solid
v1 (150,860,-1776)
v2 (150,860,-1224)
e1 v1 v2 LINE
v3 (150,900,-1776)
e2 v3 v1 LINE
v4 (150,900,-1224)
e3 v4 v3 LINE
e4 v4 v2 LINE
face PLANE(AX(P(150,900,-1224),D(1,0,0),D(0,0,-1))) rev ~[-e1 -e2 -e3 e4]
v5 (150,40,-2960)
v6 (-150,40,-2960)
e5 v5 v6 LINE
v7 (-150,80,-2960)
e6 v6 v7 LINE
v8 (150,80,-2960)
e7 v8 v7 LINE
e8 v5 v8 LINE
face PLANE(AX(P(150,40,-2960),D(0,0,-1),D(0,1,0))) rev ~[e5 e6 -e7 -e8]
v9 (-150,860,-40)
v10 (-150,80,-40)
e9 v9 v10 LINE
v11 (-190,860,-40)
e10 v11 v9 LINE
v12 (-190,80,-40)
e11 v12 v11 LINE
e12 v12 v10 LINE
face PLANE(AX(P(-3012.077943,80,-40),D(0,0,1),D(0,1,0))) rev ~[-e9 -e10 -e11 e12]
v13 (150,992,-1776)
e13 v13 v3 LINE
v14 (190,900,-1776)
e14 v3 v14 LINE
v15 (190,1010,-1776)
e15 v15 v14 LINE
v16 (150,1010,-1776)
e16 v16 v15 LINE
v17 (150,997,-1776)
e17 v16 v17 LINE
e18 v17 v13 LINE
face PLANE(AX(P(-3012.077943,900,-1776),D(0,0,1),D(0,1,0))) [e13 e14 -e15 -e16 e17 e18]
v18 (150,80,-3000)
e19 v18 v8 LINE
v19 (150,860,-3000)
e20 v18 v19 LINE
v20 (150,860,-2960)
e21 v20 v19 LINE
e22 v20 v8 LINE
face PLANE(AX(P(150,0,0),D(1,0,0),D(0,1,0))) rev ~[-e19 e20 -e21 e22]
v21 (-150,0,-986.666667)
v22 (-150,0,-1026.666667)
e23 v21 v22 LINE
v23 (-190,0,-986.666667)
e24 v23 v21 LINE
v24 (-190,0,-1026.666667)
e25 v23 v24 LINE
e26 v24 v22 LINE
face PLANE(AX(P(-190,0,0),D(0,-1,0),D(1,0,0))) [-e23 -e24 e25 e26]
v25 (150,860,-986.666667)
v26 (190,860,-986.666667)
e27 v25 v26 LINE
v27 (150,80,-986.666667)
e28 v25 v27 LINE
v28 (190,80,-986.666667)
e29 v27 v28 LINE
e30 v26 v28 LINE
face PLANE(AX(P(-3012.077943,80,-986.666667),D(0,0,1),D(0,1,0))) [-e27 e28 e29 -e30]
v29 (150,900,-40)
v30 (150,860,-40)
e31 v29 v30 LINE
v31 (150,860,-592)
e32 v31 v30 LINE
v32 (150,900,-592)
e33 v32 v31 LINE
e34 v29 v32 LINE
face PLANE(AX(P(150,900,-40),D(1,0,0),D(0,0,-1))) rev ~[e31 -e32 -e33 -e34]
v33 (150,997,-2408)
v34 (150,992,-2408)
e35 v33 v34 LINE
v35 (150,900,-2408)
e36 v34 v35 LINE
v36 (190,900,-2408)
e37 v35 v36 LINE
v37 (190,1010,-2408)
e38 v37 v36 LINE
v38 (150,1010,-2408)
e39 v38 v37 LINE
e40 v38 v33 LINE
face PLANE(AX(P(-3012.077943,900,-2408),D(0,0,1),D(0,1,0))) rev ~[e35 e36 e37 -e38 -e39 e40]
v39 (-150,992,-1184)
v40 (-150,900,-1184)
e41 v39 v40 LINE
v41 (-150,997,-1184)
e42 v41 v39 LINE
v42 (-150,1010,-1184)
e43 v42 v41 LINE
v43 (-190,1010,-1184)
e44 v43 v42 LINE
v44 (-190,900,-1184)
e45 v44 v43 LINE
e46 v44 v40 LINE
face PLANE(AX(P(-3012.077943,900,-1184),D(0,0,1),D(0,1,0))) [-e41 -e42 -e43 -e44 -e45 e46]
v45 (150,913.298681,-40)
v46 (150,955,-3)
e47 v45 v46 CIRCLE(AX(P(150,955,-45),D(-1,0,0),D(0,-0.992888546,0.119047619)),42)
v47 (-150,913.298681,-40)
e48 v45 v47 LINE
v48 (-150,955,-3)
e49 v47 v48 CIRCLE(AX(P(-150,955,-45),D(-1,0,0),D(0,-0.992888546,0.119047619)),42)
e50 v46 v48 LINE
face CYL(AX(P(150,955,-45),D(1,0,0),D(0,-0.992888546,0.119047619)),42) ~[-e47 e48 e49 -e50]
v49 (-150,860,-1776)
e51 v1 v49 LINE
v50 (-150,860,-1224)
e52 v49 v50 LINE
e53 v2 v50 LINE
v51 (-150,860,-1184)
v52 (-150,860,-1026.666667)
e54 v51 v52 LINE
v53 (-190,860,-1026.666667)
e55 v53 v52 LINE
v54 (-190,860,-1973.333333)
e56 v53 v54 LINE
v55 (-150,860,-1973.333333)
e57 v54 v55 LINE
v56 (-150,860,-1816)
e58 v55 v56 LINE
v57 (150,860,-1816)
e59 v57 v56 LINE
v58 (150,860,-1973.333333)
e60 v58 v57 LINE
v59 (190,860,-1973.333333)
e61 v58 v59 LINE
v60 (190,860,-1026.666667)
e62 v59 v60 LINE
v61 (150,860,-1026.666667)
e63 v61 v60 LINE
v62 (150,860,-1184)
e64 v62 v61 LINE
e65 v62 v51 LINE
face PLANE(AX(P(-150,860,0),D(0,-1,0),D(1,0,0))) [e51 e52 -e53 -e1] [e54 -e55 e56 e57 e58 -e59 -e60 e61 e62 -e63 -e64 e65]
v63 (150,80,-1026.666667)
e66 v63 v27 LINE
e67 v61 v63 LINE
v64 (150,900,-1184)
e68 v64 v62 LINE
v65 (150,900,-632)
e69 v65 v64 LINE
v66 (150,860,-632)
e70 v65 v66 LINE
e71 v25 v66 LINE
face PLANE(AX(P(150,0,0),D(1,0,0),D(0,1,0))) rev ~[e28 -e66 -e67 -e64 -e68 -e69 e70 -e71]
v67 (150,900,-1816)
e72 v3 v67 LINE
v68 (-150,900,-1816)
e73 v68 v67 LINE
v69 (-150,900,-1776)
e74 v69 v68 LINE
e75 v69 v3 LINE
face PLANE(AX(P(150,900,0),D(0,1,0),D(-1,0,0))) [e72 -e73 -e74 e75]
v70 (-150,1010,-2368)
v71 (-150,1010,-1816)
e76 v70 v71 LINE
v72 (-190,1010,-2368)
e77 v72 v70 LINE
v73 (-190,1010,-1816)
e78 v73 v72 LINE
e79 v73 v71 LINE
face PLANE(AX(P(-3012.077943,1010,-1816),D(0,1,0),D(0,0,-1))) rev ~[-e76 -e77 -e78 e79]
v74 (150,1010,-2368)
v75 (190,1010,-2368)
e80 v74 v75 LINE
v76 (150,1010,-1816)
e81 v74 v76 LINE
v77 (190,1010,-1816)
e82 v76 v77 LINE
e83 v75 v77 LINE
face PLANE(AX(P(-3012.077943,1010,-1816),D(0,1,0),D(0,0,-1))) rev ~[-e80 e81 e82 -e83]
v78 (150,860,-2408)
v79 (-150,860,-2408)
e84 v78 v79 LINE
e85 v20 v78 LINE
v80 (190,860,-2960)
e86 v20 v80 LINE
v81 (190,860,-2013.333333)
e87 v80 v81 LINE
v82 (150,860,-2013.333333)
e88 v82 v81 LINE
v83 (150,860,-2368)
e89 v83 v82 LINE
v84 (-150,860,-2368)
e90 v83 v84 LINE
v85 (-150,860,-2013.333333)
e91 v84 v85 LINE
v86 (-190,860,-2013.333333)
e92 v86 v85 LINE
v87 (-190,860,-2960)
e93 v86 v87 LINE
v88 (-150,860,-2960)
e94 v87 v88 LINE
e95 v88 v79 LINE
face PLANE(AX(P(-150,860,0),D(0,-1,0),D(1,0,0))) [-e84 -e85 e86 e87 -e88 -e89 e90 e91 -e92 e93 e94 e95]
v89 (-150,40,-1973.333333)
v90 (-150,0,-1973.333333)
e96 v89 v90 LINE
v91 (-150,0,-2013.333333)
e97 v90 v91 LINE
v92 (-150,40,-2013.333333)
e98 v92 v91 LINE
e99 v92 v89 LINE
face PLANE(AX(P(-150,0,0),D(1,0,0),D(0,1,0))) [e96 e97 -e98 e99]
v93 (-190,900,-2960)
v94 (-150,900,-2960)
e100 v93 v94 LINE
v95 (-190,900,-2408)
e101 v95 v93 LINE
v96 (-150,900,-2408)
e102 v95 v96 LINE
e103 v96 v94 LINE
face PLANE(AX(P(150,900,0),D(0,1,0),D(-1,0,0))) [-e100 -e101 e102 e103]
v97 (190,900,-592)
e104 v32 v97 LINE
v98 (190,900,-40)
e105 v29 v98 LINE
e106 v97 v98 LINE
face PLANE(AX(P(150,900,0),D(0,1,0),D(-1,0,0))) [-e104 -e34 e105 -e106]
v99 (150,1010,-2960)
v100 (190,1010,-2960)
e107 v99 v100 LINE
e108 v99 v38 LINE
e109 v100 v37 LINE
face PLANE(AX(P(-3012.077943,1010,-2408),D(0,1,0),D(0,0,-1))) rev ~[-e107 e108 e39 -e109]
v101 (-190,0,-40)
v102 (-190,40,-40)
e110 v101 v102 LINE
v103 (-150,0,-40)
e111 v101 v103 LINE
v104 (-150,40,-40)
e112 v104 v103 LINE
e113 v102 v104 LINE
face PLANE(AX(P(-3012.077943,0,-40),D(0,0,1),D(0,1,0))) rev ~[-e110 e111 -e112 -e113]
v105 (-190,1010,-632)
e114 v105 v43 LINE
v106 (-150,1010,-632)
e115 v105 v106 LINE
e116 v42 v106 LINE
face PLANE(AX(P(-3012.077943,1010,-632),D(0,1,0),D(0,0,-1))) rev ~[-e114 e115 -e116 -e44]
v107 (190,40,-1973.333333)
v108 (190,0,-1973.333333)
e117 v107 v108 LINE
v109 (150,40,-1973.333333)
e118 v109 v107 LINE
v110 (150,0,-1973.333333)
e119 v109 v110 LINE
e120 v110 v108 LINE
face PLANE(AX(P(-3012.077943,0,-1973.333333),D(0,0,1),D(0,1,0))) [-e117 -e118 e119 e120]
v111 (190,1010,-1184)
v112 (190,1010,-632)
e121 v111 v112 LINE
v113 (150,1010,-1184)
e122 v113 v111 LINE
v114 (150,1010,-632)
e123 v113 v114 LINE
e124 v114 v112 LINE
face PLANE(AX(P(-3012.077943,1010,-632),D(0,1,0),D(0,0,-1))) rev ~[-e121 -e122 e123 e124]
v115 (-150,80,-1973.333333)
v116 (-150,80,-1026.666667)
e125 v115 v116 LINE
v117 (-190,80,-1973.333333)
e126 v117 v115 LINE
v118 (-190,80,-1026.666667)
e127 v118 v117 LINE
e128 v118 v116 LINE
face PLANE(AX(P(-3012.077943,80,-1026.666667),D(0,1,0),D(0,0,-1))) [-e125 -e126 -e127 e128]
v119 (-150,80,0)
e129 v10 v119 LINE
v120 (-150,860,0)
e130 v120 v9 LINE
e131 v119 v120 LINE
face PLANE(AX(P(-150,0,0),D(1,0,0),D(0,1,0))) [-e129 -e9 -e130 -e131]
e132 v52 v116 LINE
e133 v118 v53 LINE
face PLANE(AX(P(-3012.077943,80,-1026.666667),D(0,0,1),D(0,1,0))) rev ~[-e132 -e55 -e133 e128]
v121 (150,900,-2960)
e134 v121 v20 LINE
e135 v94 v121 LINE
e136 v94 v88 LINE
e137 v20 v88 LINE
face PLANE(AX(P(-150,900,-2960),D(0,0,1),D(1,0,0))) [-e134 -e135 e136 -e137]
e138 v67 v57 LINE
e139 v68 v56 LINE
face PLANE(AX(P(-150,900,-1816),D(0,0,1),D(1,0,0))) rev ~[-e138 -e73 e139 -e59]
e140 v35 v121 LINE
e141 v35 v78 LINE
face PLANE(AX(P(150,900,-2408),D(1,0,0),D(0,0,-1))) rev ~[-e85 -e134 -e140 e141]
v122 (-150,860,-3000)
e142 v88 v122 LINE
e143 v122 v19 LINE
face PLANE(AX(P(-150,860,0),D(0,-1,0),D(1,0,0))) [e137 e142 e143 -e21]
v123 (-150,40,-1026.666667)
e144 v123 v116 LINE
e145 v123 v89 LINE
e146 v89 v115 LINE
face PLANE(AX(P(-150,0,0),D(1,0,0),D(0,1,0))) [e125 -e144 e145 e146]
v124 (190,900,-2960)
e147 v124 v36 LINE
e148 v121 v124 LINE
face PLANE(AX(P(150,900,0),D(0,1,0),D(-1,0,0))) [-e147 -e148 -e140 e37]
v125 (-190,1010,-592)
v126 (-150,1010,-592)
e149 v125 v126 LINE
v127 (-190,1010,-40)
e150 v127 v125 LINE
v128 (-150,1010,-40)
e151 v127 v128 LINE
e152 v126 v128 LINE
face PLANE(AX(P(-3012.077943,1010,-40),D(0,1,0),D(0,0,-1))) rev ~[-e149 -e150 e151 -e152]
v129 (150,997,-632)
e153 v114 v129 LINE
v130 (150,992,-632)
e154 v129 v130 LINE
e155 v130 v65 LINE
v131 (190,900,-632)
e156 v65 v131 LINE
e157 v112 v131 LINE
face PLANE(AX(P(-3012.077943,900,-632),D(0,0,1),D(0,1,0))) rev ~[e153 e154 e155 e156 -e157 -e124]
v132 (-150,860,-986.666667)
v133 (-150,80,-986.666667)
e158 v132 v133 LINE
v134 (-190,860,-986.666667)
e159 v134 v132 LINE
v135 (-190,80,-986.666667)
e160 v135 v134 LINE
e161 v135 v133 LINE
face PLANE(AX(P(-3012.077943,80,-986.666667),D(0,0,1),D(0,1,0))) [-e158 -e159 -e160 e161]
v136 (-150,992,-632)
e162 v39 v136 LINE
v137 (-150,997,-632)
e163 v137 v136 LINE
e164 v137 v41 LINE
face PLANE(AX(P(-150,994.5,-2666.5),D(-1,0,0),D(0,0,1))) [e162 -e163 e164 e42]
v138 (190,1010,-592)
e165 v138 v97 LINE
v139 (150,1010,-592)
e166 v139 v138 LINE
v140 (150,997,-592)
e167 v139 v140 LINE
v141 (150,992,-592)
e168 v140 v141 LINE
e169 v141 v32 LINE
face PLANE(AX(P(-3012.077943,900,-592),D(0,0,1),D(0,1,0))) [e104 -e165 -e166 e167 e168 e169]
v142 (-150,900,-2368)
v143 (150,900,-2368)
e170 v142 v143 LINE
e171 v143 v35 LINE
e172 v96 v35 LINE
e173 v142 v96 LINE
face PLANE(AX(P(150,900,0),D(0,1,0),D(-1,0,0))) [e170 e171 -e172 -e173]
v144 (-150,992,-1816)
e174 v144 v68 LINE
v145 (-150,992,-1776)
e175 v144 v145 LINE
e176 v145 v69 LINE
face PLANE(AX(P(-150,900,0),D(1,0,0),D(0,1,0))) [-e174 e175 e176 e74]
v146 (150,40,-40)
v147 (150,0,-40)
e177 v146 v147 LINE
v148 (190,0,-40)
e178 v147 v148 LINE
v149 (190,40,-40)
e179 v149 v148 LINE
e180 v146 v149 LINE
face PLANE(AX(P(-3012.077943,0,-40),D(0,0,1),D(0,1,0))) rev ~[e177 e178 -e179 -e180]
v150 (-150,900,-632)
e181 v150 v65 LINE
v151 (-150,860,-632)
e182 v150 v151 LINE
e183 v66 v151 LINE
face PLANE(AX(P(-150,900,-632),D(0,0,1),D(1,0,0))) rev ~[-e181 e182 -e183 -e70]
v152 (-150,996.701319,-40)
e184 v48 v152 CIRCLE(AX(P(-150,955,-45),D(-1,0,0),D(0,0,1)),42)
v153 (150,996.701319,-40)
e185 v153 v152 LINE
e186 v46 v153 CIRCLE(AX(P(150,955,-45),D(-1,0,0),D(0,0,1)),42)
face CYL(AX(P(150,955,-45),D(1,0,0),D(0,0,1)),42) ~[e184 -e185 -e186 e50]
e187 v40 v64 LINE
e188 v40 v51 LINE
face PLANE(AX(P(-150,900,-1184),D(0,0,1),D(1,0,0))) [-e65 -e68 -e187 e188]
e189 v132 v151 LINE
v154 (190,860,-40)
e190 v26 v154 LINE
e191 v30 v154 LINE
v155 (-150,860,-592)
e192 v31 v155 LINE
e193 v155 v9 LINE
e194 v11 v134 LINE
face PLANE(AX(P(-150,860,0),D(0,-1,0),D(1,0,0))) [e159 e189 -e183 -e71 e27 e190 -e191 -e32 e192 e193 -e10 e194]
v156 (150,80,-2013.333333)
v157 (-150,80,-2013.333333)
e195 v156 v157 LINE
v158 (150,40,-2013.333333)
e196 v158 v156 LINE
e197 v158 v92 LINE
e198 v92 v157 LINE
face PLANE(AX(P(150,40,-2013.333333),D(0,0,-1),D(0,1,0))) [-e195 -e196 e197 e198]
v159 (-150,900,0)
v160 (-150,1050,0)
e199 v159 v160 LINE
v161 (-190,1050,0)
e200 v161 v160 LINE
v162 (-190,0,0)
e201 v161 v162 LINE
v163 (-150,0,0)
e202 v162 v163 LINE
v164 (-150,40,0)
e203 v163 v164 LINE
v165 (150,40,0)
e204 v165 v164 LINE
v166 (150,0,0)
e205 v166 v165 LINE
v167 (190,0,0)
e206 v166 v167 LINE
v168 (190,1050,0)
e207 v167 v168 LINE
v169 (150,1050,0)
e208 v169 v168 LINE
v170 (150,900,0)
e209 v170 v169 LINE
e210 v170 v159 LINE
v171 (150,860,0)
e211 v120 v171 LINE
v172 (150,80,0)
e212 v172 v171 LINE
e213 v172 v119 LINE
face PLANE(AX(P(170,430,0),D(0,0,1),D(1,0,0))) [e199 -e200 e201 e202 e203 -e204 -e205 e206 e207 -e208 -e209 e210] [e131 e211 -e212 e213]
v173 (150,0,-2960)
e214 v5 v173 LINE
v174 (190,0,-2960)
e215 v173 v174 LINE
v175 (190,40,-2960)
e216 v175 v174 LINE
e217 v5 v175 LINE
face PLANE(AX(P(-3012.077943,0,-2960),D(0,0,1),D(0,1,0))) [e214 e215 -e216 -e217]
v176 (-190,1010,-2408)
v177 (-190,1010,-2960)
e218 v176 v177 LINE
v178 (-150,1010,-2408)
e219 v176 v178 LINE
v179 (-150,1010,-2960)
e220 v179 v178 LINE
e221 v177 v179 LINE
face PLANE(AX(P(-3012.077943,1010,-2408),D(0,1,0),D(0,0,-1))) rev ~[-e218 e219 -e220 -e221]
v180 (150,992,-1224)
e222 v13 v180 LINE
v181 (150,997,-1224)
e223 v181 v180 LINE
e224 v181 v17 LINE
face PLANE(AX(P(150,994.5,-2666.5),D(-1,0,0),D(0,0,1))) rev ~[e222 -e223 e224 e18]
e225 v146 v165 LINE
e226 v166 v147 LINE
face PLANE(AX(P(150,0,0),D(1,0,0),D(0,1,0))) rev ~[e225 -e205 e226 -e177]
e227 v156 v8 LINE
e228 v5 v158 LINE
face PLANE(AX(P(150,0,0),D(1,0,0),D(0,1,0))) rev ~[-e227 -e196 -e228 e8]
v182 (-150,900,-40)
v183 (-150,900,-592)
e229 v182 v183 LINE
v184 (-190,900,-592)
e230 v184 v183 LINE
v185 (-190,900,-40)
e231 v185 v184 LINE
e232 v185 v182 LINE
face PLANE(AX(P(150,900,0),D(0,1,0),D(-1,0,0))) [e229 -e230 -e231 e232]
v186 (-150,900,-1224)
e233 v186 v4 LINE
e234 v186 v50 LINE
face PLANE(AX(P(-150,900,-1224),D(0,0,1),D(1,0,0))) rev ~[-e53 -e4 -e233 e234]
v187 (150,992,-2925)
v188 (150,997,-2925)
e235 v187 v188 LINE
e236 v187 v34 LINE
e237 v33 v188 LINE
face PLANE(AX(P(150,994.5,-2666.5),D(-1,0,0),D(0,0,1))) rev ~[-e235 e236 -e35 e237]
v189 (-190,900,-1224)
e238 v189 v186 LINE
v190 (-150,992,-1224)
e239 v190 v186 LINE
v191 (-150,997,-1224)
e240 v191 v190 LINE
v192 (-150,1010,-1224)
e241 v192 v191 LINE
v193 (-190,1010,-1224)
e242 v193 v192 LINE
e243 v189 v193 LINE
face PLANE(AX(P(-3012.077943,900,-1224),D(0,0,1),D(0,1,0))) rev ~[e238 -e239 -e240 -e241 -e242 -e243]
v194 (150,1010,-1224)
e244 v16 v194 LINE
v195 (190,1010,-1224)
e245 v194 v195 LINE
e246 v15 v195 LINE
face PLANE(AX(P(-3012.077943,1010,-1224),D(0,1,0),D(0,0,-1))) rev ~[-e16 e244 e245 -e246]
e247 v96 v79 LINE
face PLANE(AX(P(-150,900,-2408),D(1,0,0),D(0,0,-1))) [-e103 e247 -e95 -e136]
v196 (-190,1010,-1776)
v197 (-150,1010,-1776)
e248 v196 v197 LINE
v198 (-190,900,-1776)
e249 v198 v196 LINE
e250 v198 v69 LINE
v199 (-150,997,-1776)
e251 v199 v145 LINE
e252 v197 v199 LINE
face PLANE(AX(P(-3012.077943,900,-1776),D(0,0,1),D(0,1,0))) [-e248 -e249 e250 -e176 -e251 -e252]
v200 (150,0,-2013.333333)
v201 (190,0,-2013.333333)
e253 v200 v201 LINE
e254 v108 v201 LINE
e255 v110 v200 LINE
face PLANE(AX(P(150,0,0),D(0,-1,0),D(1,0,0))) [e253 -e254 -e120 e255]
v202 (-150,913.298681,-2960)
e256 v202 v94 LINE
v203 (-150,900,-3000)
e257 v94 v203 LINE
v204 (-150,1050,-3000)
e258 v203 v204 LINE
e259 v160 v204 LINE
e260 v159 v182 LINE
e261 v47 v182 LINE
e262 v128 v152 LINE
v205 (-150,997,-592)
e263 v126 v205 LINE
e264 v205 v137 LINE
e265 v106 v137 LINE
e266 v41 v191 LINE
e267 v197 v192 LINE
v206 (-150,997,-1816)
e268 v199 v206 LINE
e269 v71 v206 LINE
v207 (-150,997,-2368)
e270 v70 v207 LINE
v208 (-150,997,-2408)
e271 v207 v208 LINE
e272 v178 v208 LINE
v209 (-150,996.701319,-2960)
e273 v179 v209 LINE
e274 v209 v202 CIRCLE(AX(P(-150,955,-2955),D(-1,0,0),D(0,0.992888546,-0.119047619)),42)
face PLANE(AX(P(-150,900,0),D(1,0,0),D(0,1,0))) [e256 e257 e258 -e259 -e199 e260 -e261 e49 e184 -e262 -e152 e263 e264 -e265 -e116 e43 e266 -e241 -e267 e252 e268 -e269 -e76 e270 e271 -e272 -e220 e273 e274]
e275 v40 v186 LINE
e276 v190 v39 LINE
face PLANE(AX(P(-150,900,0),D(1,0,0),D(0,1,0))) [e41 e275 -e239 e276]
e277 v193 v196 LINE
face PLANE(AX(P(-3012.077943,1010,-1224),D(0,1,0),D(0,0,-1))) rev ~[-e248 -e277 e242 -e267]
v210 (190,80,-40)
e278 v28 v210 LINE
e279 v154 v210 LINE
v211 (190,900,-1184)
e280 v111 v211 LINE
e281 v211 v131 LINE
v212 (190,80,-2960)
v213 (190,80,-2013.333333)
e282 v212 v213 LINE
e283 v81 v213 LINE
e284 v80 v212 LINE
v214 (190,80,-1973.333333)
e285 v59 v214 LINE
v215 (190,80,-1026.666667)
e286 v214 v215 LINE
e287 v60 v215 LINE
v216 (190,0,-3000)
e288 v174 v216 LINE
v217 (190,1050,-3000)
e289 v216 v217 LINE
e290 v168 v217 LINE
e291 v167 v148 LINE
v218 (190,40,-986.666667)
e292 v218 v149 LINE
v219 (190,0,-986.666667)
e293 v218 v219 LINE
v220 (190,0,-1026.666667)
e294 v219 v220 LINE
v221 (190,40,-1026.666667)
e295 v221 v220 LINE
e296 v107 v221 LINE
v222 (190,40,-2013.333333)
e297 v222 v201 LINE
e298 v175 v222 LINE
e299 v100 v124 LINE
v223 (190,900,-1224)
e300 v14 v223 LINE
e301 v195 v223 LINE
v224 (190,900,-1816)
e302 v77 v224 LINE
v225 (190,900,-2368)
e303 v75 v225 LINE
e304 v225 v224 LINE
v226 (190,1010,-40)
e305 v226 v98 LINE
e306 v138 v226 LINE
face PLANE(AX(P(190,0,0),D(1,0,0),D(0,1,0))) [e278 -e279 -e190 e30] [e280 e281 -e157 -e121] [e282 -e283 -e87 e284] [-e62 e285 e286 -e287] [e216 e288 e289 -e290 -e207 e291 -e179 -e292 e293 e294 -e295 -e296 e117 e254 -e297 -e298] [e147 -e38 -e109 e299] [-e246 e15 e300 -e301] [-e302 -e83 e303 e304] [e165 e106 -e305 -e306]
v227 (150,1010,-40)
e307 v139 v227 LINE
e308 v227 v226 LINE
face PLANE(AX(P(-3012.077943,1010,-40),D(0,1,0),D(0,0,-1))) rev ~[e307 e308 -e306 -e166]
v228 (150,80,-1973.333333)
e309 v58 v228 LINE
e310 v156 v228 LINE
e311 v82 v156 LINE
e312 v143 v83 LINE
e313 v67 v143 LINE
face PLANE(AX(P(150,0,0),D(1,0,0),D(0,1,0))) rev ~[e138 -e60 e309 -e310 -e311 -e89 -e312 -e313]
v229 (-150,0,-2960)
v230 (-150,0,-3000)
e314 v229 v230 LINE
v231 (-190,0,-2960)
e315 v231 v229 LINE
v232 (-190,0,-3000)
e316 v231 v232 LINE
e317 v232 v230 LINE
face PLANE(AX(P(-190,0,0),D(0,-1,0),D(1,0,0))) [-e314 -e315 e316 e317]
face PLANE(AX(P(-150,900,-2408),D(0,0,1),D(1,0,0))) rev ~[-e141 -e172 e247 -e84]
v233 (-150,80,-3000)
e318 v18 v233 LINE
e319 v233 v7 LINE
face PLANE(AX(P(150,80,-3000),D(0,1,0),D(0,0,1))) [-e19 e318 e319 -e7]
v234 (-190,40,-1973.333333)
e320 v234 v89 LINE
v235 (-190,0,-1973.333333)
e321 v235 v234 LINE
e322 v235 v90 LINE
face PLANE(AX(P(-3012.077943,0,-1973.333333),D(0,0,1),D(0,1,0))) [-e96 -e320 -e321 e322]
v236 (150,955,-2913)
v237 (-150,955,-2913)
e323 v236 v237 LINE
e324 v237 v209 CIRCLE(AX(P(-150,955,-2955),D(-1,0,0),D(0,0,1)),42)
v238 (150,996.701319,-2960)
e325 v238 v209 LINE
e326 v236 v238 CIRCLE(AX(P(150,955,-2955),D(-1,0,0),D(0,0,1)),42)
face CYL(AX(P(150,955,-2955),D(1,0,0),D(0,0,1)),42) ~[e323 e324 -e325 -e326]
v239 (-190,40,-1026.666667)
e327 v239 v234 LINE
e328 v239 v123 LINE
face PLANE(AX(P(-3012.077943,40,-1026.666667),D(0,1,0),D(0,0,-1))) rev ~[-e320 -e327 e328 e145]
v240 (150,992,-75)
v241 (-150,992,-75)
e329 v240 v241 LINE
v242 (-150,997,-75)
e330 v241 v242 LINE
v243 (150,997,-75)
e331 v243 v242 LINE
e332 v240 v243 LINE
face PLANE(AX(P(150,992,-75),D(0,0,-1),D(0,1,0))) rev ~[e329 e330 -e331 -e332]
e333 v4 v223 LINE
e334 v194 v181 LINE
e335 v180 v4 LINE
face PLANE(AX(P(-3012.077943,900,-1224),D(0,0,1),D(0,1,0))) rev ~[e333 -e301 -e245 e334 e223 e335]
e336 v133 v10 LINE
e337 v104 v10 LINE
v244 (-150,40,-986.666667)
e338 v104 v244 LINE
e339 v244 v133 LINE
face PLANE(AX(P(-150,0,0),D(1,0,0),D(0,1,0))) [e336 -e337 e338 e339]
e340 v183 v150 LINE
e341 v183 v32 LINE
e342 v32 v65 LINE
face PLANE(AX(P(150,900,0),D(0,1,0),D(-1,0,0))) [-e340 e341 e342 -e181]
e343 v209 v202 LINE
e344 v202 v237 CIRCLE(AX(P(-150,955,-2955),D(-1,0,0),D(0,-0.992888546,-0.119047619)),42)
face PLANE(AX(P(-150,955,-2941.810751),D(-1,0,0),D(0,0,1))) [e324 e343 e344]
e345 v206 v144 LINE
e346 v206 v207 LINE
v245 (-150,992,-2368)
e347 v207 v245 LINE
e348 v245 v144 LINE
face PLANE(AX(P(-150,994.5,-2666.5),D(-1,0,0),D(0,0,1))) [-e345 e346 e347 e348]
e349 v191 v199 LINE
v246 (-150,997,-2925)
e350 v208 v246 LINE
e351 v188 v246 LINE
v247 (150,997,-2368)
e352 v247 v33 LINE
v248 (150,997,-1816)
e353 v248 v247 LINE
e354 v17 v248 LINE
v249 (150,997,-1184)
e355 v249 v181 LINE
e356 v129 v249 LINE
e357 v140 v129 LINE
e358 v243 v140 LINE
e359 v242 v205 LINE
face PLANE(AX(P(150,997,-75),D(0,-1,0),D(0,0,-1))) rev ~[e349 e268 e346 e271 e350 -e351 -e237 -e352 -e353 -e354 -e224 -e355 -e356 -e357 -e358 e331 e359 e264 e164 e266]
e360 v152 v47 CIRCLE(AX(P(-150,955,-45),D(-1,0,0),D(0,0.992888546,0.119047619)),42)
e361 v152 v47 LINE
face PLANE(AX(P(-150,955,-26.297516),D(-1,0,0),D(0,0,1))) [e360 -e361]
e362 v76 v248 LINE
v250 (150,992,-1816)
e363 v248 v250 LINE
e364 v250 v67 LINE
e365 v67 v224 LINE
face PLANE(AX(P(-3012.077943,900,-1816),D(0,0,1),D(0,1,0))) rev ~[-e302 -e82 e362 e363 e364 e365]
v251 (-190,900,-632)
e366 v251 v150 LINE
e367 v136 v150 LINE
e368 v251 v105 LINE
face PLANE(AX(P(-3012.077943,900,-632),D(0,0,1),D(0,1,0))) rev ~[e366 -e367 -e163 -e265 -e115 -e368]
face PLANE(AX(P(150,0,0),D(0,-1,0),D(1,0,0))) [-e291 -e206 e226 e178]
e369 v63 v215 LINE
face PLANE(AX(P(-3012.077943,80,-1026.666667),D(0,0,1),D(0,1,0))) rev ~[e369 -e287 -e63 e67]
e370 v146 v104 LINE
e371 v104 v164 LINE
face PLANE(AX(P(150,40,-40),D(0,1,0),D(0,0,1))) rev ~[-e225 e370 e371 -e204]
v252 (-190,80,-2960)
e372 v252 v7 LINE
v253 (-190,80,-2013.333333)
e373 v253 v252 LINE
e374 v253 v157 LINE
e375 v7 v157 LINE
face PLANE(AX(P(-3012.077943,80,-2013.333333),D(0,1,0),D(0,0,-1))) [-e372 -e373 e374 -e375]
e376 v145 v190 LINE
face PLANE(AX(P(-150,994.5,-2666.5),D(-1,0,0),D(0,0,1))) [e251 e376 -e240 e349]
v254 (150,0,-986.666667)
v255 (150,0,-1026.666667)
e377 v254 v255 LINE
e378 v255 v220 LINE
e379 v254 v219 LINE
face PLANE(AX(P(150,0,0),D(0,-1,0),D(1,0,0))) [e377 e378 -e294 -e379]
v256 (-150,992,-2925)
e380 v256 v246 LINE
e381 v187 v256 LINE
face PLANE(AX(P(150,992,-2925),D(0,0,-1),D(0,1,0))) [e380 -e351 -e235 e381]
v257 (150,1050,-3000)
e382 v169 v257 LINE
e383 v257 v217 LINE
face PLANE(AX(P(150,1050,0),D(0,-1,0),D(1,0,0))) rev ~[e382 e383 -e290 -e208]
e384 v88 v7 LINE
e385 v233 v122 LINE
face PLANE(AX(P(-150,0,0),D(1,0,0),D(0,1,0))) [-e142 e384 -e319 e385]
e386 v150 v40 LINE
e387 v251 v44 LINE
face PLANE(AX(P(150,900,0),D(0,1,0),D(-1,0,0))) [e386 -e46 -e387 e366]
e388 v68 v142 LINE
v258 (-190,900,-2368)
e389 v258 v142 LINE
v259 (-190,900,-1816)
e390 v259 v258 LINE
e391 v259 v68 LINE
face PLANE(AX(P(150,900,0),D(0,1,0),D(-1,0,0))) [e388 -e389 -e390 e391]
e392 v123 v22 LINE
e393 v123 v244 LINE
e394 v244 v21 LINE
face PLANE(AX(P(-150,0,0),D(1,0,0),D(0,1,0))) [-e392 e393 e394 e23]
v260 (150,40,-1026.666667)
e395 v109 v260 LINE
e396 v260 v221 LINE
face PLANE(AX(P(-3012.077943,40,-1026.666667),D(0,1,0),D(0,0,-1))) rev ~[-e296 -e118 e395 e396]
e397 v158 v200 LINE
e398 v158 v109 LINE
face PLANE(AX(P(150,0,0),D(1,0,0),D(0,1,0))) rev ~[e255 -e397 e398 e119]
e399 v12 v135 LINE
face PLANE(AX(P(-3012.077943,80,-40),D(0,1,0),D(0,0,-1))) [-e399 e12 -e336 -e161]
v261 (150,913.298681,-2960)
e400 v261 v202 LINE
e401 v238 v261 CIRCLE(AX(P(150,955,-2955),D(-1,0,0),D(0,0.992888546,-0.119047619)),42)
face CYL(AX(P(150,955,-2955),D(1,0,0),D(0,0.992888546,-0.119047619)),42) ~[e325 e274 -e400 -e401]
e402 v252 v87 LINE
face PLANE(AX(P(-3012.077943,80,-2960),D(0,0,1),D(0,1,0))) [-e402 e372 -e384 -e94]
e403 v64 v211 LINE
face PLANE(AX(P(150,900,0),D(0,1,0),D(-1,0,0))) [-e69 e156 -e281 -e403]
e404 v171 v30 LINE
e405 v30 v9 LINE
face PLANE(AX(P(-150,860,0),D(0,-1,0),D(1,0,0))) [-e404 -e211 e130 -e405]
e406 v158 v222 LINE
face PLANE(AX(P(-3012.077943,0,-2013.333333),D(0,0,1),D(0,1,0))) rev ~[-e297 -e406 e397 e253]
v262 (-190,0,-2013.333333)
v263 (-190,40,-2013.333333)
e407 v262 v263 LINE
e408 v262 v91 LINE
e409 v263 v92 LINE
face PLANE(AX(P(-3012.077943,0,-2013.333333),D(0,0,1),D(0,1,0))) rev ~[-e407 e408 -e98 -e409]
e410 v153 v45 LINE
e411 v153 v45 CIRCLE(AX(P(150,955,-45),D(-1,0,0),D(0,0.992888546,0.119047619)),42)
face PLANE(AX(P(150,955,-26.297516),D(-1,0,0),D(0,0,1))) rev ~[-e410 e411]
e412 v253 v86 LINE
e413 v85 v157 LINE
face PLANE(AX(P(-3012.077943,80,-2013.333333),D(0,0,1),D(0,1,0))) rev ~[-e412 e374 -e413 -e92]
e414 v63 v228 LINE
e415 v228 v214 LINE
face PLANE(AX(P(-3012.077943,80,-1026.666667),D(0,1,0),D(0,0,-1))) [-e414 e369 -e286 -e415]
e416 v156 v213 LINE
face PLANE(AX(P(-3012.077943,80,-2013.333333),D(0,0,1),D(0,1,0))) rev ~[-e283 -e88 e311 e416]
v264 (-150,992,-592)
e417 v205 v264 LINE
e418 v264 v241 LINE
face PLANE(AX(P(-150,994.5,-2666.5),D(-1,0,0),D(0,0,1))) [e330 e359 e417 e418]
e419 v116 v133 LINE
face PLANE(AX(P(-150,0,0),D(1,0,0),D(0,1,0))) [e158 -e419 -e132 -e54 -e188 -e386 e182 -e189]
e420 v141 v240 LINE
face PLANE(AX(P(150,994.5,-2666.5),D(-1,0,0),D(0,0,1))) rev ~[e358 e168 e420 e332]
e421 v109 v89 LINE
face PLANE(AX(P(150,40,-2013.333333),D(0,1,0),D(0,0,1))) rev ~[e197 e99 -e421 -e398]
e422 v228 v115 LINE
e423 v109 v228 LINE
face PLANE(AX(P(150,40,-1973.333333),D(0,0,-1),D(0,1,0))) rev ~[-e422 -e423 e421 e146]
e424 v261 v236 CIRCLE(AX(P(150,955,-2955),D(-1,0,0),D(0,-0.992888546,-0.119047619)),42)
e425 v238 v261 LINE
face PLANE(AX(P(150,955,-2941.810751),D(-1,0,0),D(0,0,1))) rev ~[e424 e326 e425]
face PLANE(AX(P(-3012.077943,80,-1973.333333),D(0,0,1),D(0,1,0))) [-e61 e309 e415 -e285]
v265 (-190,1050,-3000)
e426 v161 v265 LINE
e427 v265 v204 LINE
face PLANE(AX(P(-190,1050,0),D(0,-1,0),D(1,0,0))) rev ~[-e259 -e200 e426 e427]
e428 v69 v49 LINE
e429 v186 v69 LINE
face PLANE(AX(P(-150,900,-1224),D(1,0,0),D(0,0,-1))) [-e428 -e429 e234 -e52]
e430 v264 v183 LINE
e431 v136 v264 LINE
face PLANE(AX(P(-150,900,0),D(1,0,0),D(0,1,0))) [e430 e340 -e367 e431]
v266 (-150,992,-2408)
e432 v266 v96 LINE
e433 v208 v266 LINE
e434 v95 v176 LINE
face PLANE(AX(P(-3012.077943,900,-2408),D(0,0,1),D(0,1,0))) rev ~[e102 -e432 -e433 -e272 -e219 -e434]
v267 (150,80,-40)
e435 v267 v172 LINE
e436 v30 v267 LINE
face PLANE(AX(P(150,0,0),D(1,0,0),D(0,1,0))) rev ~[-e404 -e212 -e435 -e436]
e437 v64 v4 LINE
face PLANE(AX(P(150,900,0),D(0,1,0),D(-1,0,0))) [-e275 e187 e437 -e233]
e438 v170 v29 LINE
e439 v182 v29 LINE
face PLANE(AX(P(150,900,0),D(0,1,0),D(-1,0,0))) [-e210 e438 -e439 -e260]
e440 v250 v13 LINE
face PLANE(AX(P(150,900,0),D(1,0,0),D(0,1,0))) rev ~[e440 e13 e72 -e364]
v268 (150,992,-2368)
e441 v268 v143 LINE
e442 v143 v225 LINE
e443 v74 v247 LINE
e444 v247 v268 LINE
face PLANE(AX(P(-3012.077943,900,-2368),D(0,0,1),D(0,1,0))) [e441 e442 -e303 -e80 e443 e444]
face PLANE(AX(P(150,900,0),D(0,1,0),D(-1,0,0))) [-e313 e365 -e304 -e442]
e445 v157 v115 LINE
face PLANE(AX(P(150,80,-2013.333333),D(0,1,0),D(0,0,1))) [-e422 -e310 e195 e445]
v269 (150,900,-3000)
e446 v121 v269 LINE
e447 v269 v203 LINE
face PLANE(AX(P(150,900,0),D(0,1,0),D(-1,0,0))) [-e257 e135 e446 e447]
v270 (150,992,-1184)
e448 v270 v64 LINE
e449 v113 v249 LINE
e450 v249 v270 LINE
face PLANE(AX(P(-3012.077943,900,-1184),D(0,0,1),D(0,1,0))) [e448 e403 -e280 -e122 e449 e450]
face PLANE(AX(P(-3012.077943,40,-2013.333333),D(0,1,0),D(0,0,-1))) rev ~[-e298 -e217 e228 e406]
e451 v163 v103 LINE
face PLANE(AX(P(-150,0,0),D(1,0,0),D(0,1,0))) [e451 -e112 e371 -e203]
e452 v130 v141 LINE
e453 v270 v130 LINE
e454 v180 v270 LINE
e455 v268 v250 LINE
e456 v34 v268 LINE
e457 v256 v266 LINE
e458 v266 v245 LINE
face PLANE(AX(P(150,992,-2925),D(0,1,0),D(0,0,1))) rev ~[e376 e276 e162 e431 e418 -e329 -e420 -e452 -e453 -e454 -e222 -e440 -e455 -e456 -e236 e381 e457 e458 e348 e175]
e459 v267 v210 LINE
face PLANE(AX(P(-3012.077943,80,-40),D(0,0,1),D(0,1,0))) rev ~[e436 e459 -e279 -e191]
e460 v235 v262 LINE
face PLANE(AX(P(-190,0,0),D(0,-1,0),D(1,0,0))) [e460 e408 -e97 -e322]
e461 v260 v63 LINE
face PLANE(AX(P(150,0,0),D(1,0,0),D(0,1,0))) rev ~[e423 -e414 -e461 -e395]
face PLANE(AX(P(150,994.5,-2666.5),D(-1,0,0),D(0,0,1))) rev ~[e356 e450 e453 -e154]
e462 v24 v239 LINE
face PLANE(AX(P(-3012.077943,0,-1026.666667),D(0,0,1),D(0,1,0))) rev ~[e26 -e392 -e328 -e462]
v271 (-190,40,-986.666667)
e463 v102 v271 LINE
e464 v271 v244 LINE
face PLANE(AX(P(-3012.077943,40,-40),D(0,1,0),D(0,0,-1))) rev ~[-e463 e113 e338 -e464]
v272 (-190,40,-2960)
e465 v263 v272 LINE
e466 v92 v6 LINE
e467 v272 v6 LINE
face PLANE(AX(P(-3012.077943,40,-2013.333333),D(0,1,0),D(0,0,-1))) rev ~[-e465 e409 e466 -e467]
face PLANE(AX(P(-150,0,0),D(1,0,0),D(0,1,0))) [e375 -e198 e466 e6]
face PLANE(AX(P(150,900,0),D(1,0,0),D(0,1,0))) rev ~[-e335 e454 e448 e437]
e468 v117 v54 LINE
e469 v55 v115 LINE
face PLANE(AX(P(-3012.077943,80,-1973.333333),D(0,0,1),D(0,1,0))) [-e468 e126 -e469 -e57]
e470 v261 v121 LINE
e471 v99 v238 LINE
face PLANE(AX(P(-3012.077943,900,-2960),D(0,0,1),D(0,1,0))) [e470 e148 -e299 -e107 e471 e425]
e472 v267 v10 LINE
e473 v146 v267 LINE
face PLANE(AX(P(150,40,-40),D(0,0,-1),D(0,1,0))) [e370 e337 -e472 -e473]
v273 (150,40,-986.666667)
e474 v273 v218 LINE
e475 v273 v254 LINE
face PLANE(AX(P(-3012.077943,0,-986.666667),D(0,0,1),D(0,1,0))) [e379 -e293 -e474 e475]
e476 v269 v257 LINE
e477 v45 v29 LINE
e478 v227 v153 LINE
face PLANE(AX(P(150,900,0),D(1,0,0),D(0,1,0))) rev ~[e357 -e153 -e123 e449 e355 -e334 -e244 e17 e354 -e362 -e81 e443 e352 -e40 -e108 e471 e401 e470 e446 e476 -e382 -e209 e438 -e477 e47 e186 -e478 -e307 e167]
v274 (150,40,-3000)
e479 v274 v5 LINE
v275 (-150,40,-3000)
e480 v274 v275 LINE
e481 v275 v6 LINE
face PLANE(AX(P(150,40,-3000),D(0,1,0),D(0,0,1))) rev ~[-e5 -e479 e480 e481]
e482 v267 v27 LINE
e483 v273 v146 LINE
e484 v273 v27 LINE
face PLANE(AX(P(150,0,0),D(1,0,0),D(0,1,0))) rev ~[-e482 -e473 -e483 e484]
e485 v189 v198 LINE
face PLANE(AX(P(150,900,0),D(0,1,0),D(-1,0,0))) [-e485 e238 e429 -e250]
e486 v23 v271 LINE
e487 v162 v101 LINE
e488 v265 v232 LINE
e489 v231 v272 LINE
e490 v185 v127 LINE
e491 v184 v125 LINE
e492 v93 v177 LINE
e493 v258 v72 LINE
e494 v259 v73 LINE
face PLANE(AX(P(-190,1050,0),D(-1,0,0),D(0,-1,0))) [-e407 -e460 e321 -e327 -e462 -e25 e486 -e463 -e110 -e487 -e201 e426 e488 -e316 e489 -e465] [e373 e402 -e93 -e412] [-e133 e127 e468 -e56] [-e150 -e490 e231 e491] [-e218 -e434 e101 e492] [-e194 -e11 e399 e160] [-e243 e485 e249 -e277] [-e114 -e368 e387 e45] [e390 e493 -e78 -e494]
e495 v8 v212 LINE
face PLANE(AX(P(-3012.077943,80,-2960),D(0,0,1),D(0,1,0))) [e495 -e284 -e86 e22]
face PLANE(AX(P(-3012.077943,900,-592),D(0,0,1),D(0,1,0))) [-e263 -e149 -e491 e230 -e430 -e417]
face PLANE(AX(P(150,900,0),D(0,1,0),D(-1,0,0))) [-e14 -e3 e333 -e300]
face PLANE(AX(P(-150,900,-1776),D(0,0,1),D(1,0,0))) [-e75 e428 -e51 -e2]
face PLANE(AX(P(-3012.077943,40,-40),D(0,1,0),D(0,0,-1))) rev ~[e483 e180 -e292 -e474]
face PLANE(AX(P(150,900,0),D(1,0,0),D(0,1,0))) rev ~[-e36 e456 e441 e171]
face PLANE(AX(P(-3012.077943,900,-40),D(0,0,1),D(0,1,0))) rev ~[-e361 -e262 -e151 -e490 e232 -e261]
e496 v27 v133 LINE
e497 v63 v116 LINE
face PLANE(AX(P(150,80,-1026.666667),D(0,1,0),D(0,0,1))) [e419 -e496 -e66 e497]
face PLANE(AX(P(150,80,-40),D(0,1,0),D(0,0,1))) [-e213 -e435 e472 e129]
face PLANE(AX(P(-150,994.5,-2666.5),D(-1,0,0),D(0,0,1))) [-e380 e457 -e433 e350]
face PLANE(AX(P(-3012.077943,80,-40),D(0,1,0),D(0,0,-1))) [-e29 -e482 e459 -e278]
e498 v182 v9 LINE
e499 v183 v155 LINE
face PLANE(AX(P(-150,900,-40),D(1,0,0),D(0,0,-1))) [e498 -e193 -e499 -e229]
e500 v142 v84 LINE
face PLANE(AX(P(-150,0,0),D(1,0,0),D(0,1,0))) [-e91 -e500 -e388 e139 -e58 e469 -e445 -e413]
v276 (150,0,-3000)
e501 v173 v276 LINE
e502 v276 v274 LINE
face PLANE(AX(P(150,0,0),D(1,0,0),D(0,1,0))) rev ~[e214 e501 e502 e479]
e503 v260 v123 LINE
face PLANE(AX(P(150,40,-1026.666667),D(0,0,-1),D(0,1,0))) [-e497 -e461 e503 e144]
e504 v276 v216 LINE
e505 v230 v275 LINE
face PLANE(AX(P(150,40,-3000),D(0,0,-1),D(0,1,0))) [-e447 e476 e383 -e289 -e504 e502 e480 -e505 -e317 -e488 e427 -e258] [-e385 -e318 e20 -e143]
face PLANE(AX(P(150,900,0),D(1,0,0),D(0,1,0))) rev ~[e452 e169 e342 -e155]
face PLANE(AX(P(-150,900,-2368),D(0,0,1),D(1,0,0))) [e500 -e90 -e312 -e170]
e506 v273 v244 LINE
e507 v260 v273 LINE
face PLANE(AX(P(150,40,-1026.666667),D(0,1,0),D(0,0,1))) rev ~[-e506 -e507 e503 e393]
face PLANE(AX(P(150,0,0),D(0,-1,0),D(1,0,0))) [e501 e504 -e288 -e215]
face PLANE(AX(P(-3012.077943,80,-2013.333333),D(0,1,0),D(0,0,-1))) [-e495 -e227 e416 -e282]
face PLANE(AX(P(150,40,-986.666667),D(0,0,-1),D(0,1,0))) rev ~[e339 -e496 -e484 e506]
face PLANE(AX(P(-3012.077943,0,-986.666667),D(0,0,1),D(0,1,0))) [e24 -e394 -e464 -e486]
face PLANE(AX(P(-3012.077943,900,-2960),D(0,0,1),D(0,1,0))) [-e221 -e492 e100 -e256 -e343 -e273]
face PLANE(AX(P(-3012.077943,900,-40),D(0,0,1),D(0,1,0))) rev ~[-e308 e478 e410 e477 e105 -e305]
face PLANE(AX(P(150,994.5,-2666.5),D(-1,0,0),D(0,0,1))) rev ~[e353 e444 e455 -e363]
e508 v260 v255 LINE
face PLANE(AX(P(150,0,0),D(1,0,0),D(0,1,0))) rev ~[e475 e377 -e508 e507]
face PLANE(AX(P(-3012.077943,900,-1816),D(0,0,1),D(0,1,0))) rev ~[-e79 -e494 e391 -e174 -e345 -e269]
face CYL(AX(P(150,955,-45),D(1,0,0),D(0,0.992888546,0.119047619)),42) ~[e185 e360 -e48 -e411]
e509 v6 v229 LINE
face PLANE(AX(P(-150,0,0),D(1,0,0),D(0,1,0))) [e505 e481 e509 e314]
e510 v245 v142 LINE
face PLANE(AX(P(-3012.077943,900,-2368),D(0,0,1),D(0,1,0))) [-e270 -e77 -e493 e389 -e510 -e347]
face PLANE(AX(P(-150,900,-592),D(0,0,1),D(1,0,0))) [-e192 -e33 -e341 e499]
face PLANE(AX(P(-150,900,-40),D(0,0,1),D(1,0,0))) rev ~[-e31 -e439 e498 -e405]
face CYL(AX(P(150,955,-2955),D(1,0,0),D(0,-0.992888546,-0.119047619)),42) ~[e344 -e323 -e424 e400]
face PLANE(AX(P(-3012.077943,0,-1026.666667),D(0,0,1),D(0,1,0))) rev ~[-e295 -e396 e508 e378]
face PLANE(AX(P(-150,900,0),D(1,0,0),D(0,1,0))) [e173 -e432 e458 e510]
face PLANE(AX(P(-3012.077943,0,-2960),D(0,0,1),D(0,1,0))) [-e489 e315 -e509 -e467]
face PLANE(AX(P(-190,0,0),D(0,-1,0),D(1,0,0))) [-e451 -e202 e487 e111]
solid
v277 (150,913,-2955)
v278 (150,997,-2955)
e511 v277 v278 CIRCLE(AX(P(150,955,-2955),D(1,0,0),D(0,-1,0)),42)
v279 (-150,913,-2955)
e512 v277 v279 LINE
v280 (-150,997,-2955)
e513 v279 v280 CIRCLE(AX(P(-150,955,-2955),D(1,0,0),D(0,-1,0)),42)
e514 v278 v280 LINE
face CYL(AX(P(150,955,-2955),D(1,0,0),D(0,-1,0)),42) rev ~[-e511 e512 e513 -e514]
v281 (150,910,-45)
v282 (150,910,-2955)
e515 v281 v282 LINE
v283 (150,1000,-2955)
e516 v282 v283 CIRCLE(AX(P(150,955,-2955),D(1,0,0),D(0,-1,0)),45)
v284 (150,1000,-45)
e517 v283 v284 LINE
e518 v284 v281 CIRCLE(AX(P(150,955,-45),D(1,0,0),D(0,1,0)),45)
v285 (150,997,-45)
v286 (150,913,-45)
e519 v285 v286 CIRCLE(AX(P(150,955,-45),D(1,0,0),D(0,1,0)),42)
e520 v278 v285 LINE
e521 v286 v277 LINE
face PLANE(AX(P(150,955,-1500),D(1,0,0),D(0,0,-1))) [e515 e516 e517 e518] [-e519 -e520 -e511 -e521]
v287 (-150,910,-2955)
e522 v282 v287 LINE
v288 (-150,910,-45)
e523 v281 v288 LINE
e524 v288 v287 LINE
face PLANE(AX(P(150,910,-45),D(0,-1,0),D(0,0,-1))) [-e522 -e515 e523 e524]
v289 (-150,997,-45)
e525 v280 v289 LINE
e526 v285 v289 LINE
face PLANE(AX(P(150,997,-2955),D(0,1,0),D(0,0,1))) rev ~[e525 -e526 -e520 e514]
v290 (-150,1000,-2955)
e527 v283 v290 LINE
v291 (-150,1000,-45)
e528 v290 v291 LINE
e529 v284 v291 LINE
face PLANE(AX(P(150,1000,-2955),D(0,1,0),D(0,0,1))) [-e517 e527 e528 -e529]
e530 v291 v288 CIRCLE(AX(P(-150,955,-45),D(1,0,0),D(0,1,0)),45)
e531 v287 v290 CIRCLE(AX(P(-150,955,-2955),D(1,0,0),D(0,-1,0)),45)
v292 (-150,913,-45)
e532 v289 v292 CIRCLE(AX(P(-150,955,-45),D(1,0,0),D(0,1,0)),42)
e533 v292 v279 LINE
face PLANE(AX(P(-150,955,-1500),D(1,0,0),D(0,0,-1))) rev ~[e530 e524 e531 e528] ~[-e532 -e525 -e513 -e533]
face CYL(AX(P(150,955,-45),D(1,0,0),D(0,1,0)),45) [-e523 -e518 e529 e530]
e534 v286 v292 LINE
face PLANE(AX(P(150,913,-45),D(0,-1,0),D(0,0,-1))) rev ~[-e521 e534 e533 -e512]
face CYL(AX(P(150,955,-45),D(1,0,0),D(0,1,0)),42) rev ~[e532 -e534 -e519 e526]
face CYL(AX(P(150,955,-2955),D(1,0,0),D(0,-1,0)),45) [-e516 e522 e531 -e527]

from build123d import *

# Parameters (mm, degrees)
SKIZZE1_W                            = 40
SKIZZE1_H                            = 860
SKIZZE1_H_2                          = 150
AUFSATZ_LINEAR_AUSTRAGEN1_DEPTH      = 3000
SCHNITT_LINEAR_AUSTRAGEN1_DEPTH      = 3202.077943443
SCHNITT_LINEAR_AUSTRAGEN1_DEPTH_BACK = 3202.077943443
SKIZZE2_W                            = 552
SKIZZE2_H                            = 110
SKIZZE2_W_2                          = 946.666666667
SKIZZE2_H_2                          = 780
SKIZZE2_W_3                          = 946.666666666
SKIZZE2_H_3                          = 40
SKIZZE3_W                            = 300
SKIZZE3_H                            = 552
SCHNITT_LINEAR_AUSTRAGEN2_DEPTH      = 3138.849582118
AUFSATZ_LINEAR_AUSTRAGEN2_DEPTH      = 300
SKIZZE5_W                            = 517
SKIZZE5_H                            = 5
SKIZZE5_W_2                          = 552
SKIZZE5_W_3                          = 40
AUFSATZ_LINEAR_AUSTRAGEN3_DEPTH      = 300
SKIZZE6_W                            = 40
SKIZZE6_H                            = 40
AUFSATZ_LINEAR_AUSTRAGEN4_DEPTH      = 300


with BuildPart() as part:
    # Skizze1 → Aufsatz-Linear austragen1 (new body)
    with BuildSketch(Plane.XY):
        with Locations((170, 430)):
            Rectangle(SKIZZE1_W, SKIZZE1_H)
        Polygon((-150, 900), (-190, 900), (-190, 860), (-150, 860), (150, 860), (190, 860), (190, 900), (150, 900), align=None)
        with Locations((170, 975)):
            Rectangle(SKIZZE1_W, SKIZZE1_H_2)
        with Locations((-170, 975)):
            Rectangle(SKIZZE1_W, SKIZZE1_H_2)
        with Locations((-170, 430)):
            Rectangle(SKIZZE1_W, SKIZZE1_H)
    extrude(amount=-AUFSATZ_LINEAR_AUSTRAGEN1_DEPTH)

    # Skizze2 → Schnitt-Linear austragen1 (cut, two sides: drawn at the far end of the back side and taken through both)
    with BuildSketch(Plane(origin=(190, 0, 0), x_dir=(0, 0, -1), z_dir=(1, 0, 0)).offset(-SCHNITT_LINEAR_AUSTRAGEN1_DEPTH_BACK)):
        with Locations((316, 955)):
            Rectangle(SKIZZE2_W, SKIZZE2_H)
        with Locations((908, 955)):
            Rectangle(SKIZZE2_W, SKIZZE2_H)
        with Locations((513.333333334, 470)):
            Rectangle(SKIZZE2_W_2, SKIZZE2_H_2)
        with Locations((1500, 470)):
            Rectangle(SKIZZE2_W_3, SKIZZE2_H_2)
        with Locations((2486.666666667, 470)):
            Rectangle(SKIZZE2_W_2, SKIZZE2_H_2)
        with Locations((513.333333334, 20)):
            Rectangle(SKIZZE2_W_2, SKIZZE2_H_3)
        with Locations((1500, 20)):
            Rectangle(SKIZZE2_W_3, SKIZZE2_H_3)
        with Locations((2486.666666667, 20)):
            Rectangle(SKIZZE2_W_2, SKIZZE2_H_3)
        with Locations((1500, 955)):
            Rectangle(SKIZZE2_W, SKIZZE2_H)
        with Locations((2092, 955)):
            Rectangle(SKIZZE2_W, SKIZZE2_H)
        with Locations((2684, 955)):
            Rectangle(SKIZZE2_W, SKIZZE2_H)
    extrude(amount=SCHNITT_LINEAR_AUSTRAGEN1_DEPTH + SCHNITT_LINEAR_AUSTRAGEN1_DEPTH_BACK, mode=Mode.SUBTRACT)

    # Skizze3 → Schnitt-Linear austragen2 (cut, through all)
    with BuildSketch(Plane(origin=(0, 900, 0), x_dir=(1, 0, 0), z_dir=(0, 1, 0))):
        with Locations((0, 2684)):
            Rectangle(SKIZZE3_W, SKIZZE3_H)
        with Locations((0, 2092)):
            Rectangle(SKIZZE3_W, SKIZZE3_H)
        with Locations((0, 1500)):
            Rectangle(SKIZZE3_W, SKIZZE3_H)
        with Locations((0, 908)):
            Rectangle(SKIZZE3_W, SKIZZE3_H)
        with Locations((0, 316)):
            Rectangle(SKIZZE3_W, SKIZZE3_H)
    extrude(amount=-SCHNITT_LINEAR_AUSTRAGEN2_DEPTH, mode=Mode.SUBTRACT)

    # Skizze5 → Aufsatz-Linear austragen3 (add)
    with BuildSketch(Plane.ZY.offset(-150)):
        with Locations((-2666.5, 994.5)):
            Rectangle(SKIZZE5_W, SKIZZE5_H)
        with BuildLine():
            ThreePointArc((-2960, 913.298681076), (-2927.12528027, 923.583443855), (-2913, 955))
            ThreePointArc((-2913, 955), (-2927.12528027, 986.416556145), (-2960, 996.701318924))
            Line((-2960, 996.701318924), (-2960, 913.298681076))
        make_face()
        with BuildLine():
            Line((-2960, 913.298681076), (-2960, 996.701318924))
            ThreePointArc((-2960, 996.701318924), (-2997, 955), (-2960, 913.298681076))
        make_face()
        with Locations((-2092, 994.5)):
            Rectangle(SKIZZE5_W_2, SKIZZE5_H)
        with Locations((-2388, 994.5)):
            Rectangle(SKIZZE5_W_3, SKIZZE5_H)
        with Locations((-1500, 994.5)):
            Rectangle(SKIZZE5_W_2, SKIZZE5_H)
        with Locations((-1796, 994.5)):
            Rectangle(SKIZZE5_W_3, SKIZZE5_H)
        with Locations((-908, 994.5)):
            Rectangle(SKIZZE5_W_2, SKIZZE5_H)
        with Locations((-1204, 994.5)):
            Rectangle(SKIZZE5_W_3, SKIZZE5_H)
        with Locations((-612, 994.5)):
            Rectangle(SKIZZE5_W_3, SKIZZE5_H)
        with BuildLine():
            ThreePointArc((-40, 913.298681076), (-13.583443855, 927.12528027), (-3, 955))
            ThreePointArc((-3, 955), (-13.583443855, 982.87471973), (-40, 996.701318924))
            Line((-40, 996.701318924), (-40, 913.298681076))
        make_face()
        with BuildLine():
            Line((-40, 913.298681076), (-40, 996.701318924))
            ThreePointArc((-40, 996.701318924), (-87, 955), (-40, 913.298681076))
        make_face()
        with Locations((-333.5, 994.5)):
            Rectangle(SKIZZE5_W, SKIZZE5_H)
    extrude(amount=AUFSATZ_LINEAR_AUSTRAGEN3_DEPTH)

    # Skizze6 → Aufsatz-Linear austragen4 (add)
    with BuildSketch(Plane.ZY.offset(-150)):
        with Locations((-2980, 60)):
            Rectangle(SKIZZE6_W, SKIZZE6_H)
        with Locations((-1993.333333333, 60)):
            Rectangle(SKIZZE6_W, SKIZZE6_H)
        with Locations((-20, 60)):
            Rectangle(SKIZZE6_W, SKIZZE6_H)
        with Locations((-1006.666666667, 60)):
            Rectangle(SKIZZE6_W, SKIZZE6_H)
    extrude(amount=AUFSATZ_LINEAR_AUSTRAGEN4_DEPTH)


with BuildPart() as body_2:
    # Skizze4 → Aufsatz-Linear austragen2 (new body)
    with BuildSketch(Plane.ZY.offset(-150)):
        with BuildLine():
            Line((-2955, 1000), (-45, 1000))
            ThreePointArc((-45, 1000), (0, 955), (-45, 910))
            Line((-45, 910), (-2955, 910))
            ThreePointArc((-2955, 910), (-3000, 955), (-2955, 1000))
        make_face()
        with BuildLine():
            Line((-2955, 997), (-45, 997))
            ThreePointArc((-45, 997), (-3, 955), (-45, 913))
            Line((-45, 913), (-2955, 913))
            ThreePointArc((-2955, 913), (-2997, 955), (-2955, 997))
        make_face(mode=Mode.SUBTRACT)
    extrude(amount=AUFSATZ_LINEAR_AUSTRAGEN2_DEPTH)


solid = Compound([part.part, body_2.part])
